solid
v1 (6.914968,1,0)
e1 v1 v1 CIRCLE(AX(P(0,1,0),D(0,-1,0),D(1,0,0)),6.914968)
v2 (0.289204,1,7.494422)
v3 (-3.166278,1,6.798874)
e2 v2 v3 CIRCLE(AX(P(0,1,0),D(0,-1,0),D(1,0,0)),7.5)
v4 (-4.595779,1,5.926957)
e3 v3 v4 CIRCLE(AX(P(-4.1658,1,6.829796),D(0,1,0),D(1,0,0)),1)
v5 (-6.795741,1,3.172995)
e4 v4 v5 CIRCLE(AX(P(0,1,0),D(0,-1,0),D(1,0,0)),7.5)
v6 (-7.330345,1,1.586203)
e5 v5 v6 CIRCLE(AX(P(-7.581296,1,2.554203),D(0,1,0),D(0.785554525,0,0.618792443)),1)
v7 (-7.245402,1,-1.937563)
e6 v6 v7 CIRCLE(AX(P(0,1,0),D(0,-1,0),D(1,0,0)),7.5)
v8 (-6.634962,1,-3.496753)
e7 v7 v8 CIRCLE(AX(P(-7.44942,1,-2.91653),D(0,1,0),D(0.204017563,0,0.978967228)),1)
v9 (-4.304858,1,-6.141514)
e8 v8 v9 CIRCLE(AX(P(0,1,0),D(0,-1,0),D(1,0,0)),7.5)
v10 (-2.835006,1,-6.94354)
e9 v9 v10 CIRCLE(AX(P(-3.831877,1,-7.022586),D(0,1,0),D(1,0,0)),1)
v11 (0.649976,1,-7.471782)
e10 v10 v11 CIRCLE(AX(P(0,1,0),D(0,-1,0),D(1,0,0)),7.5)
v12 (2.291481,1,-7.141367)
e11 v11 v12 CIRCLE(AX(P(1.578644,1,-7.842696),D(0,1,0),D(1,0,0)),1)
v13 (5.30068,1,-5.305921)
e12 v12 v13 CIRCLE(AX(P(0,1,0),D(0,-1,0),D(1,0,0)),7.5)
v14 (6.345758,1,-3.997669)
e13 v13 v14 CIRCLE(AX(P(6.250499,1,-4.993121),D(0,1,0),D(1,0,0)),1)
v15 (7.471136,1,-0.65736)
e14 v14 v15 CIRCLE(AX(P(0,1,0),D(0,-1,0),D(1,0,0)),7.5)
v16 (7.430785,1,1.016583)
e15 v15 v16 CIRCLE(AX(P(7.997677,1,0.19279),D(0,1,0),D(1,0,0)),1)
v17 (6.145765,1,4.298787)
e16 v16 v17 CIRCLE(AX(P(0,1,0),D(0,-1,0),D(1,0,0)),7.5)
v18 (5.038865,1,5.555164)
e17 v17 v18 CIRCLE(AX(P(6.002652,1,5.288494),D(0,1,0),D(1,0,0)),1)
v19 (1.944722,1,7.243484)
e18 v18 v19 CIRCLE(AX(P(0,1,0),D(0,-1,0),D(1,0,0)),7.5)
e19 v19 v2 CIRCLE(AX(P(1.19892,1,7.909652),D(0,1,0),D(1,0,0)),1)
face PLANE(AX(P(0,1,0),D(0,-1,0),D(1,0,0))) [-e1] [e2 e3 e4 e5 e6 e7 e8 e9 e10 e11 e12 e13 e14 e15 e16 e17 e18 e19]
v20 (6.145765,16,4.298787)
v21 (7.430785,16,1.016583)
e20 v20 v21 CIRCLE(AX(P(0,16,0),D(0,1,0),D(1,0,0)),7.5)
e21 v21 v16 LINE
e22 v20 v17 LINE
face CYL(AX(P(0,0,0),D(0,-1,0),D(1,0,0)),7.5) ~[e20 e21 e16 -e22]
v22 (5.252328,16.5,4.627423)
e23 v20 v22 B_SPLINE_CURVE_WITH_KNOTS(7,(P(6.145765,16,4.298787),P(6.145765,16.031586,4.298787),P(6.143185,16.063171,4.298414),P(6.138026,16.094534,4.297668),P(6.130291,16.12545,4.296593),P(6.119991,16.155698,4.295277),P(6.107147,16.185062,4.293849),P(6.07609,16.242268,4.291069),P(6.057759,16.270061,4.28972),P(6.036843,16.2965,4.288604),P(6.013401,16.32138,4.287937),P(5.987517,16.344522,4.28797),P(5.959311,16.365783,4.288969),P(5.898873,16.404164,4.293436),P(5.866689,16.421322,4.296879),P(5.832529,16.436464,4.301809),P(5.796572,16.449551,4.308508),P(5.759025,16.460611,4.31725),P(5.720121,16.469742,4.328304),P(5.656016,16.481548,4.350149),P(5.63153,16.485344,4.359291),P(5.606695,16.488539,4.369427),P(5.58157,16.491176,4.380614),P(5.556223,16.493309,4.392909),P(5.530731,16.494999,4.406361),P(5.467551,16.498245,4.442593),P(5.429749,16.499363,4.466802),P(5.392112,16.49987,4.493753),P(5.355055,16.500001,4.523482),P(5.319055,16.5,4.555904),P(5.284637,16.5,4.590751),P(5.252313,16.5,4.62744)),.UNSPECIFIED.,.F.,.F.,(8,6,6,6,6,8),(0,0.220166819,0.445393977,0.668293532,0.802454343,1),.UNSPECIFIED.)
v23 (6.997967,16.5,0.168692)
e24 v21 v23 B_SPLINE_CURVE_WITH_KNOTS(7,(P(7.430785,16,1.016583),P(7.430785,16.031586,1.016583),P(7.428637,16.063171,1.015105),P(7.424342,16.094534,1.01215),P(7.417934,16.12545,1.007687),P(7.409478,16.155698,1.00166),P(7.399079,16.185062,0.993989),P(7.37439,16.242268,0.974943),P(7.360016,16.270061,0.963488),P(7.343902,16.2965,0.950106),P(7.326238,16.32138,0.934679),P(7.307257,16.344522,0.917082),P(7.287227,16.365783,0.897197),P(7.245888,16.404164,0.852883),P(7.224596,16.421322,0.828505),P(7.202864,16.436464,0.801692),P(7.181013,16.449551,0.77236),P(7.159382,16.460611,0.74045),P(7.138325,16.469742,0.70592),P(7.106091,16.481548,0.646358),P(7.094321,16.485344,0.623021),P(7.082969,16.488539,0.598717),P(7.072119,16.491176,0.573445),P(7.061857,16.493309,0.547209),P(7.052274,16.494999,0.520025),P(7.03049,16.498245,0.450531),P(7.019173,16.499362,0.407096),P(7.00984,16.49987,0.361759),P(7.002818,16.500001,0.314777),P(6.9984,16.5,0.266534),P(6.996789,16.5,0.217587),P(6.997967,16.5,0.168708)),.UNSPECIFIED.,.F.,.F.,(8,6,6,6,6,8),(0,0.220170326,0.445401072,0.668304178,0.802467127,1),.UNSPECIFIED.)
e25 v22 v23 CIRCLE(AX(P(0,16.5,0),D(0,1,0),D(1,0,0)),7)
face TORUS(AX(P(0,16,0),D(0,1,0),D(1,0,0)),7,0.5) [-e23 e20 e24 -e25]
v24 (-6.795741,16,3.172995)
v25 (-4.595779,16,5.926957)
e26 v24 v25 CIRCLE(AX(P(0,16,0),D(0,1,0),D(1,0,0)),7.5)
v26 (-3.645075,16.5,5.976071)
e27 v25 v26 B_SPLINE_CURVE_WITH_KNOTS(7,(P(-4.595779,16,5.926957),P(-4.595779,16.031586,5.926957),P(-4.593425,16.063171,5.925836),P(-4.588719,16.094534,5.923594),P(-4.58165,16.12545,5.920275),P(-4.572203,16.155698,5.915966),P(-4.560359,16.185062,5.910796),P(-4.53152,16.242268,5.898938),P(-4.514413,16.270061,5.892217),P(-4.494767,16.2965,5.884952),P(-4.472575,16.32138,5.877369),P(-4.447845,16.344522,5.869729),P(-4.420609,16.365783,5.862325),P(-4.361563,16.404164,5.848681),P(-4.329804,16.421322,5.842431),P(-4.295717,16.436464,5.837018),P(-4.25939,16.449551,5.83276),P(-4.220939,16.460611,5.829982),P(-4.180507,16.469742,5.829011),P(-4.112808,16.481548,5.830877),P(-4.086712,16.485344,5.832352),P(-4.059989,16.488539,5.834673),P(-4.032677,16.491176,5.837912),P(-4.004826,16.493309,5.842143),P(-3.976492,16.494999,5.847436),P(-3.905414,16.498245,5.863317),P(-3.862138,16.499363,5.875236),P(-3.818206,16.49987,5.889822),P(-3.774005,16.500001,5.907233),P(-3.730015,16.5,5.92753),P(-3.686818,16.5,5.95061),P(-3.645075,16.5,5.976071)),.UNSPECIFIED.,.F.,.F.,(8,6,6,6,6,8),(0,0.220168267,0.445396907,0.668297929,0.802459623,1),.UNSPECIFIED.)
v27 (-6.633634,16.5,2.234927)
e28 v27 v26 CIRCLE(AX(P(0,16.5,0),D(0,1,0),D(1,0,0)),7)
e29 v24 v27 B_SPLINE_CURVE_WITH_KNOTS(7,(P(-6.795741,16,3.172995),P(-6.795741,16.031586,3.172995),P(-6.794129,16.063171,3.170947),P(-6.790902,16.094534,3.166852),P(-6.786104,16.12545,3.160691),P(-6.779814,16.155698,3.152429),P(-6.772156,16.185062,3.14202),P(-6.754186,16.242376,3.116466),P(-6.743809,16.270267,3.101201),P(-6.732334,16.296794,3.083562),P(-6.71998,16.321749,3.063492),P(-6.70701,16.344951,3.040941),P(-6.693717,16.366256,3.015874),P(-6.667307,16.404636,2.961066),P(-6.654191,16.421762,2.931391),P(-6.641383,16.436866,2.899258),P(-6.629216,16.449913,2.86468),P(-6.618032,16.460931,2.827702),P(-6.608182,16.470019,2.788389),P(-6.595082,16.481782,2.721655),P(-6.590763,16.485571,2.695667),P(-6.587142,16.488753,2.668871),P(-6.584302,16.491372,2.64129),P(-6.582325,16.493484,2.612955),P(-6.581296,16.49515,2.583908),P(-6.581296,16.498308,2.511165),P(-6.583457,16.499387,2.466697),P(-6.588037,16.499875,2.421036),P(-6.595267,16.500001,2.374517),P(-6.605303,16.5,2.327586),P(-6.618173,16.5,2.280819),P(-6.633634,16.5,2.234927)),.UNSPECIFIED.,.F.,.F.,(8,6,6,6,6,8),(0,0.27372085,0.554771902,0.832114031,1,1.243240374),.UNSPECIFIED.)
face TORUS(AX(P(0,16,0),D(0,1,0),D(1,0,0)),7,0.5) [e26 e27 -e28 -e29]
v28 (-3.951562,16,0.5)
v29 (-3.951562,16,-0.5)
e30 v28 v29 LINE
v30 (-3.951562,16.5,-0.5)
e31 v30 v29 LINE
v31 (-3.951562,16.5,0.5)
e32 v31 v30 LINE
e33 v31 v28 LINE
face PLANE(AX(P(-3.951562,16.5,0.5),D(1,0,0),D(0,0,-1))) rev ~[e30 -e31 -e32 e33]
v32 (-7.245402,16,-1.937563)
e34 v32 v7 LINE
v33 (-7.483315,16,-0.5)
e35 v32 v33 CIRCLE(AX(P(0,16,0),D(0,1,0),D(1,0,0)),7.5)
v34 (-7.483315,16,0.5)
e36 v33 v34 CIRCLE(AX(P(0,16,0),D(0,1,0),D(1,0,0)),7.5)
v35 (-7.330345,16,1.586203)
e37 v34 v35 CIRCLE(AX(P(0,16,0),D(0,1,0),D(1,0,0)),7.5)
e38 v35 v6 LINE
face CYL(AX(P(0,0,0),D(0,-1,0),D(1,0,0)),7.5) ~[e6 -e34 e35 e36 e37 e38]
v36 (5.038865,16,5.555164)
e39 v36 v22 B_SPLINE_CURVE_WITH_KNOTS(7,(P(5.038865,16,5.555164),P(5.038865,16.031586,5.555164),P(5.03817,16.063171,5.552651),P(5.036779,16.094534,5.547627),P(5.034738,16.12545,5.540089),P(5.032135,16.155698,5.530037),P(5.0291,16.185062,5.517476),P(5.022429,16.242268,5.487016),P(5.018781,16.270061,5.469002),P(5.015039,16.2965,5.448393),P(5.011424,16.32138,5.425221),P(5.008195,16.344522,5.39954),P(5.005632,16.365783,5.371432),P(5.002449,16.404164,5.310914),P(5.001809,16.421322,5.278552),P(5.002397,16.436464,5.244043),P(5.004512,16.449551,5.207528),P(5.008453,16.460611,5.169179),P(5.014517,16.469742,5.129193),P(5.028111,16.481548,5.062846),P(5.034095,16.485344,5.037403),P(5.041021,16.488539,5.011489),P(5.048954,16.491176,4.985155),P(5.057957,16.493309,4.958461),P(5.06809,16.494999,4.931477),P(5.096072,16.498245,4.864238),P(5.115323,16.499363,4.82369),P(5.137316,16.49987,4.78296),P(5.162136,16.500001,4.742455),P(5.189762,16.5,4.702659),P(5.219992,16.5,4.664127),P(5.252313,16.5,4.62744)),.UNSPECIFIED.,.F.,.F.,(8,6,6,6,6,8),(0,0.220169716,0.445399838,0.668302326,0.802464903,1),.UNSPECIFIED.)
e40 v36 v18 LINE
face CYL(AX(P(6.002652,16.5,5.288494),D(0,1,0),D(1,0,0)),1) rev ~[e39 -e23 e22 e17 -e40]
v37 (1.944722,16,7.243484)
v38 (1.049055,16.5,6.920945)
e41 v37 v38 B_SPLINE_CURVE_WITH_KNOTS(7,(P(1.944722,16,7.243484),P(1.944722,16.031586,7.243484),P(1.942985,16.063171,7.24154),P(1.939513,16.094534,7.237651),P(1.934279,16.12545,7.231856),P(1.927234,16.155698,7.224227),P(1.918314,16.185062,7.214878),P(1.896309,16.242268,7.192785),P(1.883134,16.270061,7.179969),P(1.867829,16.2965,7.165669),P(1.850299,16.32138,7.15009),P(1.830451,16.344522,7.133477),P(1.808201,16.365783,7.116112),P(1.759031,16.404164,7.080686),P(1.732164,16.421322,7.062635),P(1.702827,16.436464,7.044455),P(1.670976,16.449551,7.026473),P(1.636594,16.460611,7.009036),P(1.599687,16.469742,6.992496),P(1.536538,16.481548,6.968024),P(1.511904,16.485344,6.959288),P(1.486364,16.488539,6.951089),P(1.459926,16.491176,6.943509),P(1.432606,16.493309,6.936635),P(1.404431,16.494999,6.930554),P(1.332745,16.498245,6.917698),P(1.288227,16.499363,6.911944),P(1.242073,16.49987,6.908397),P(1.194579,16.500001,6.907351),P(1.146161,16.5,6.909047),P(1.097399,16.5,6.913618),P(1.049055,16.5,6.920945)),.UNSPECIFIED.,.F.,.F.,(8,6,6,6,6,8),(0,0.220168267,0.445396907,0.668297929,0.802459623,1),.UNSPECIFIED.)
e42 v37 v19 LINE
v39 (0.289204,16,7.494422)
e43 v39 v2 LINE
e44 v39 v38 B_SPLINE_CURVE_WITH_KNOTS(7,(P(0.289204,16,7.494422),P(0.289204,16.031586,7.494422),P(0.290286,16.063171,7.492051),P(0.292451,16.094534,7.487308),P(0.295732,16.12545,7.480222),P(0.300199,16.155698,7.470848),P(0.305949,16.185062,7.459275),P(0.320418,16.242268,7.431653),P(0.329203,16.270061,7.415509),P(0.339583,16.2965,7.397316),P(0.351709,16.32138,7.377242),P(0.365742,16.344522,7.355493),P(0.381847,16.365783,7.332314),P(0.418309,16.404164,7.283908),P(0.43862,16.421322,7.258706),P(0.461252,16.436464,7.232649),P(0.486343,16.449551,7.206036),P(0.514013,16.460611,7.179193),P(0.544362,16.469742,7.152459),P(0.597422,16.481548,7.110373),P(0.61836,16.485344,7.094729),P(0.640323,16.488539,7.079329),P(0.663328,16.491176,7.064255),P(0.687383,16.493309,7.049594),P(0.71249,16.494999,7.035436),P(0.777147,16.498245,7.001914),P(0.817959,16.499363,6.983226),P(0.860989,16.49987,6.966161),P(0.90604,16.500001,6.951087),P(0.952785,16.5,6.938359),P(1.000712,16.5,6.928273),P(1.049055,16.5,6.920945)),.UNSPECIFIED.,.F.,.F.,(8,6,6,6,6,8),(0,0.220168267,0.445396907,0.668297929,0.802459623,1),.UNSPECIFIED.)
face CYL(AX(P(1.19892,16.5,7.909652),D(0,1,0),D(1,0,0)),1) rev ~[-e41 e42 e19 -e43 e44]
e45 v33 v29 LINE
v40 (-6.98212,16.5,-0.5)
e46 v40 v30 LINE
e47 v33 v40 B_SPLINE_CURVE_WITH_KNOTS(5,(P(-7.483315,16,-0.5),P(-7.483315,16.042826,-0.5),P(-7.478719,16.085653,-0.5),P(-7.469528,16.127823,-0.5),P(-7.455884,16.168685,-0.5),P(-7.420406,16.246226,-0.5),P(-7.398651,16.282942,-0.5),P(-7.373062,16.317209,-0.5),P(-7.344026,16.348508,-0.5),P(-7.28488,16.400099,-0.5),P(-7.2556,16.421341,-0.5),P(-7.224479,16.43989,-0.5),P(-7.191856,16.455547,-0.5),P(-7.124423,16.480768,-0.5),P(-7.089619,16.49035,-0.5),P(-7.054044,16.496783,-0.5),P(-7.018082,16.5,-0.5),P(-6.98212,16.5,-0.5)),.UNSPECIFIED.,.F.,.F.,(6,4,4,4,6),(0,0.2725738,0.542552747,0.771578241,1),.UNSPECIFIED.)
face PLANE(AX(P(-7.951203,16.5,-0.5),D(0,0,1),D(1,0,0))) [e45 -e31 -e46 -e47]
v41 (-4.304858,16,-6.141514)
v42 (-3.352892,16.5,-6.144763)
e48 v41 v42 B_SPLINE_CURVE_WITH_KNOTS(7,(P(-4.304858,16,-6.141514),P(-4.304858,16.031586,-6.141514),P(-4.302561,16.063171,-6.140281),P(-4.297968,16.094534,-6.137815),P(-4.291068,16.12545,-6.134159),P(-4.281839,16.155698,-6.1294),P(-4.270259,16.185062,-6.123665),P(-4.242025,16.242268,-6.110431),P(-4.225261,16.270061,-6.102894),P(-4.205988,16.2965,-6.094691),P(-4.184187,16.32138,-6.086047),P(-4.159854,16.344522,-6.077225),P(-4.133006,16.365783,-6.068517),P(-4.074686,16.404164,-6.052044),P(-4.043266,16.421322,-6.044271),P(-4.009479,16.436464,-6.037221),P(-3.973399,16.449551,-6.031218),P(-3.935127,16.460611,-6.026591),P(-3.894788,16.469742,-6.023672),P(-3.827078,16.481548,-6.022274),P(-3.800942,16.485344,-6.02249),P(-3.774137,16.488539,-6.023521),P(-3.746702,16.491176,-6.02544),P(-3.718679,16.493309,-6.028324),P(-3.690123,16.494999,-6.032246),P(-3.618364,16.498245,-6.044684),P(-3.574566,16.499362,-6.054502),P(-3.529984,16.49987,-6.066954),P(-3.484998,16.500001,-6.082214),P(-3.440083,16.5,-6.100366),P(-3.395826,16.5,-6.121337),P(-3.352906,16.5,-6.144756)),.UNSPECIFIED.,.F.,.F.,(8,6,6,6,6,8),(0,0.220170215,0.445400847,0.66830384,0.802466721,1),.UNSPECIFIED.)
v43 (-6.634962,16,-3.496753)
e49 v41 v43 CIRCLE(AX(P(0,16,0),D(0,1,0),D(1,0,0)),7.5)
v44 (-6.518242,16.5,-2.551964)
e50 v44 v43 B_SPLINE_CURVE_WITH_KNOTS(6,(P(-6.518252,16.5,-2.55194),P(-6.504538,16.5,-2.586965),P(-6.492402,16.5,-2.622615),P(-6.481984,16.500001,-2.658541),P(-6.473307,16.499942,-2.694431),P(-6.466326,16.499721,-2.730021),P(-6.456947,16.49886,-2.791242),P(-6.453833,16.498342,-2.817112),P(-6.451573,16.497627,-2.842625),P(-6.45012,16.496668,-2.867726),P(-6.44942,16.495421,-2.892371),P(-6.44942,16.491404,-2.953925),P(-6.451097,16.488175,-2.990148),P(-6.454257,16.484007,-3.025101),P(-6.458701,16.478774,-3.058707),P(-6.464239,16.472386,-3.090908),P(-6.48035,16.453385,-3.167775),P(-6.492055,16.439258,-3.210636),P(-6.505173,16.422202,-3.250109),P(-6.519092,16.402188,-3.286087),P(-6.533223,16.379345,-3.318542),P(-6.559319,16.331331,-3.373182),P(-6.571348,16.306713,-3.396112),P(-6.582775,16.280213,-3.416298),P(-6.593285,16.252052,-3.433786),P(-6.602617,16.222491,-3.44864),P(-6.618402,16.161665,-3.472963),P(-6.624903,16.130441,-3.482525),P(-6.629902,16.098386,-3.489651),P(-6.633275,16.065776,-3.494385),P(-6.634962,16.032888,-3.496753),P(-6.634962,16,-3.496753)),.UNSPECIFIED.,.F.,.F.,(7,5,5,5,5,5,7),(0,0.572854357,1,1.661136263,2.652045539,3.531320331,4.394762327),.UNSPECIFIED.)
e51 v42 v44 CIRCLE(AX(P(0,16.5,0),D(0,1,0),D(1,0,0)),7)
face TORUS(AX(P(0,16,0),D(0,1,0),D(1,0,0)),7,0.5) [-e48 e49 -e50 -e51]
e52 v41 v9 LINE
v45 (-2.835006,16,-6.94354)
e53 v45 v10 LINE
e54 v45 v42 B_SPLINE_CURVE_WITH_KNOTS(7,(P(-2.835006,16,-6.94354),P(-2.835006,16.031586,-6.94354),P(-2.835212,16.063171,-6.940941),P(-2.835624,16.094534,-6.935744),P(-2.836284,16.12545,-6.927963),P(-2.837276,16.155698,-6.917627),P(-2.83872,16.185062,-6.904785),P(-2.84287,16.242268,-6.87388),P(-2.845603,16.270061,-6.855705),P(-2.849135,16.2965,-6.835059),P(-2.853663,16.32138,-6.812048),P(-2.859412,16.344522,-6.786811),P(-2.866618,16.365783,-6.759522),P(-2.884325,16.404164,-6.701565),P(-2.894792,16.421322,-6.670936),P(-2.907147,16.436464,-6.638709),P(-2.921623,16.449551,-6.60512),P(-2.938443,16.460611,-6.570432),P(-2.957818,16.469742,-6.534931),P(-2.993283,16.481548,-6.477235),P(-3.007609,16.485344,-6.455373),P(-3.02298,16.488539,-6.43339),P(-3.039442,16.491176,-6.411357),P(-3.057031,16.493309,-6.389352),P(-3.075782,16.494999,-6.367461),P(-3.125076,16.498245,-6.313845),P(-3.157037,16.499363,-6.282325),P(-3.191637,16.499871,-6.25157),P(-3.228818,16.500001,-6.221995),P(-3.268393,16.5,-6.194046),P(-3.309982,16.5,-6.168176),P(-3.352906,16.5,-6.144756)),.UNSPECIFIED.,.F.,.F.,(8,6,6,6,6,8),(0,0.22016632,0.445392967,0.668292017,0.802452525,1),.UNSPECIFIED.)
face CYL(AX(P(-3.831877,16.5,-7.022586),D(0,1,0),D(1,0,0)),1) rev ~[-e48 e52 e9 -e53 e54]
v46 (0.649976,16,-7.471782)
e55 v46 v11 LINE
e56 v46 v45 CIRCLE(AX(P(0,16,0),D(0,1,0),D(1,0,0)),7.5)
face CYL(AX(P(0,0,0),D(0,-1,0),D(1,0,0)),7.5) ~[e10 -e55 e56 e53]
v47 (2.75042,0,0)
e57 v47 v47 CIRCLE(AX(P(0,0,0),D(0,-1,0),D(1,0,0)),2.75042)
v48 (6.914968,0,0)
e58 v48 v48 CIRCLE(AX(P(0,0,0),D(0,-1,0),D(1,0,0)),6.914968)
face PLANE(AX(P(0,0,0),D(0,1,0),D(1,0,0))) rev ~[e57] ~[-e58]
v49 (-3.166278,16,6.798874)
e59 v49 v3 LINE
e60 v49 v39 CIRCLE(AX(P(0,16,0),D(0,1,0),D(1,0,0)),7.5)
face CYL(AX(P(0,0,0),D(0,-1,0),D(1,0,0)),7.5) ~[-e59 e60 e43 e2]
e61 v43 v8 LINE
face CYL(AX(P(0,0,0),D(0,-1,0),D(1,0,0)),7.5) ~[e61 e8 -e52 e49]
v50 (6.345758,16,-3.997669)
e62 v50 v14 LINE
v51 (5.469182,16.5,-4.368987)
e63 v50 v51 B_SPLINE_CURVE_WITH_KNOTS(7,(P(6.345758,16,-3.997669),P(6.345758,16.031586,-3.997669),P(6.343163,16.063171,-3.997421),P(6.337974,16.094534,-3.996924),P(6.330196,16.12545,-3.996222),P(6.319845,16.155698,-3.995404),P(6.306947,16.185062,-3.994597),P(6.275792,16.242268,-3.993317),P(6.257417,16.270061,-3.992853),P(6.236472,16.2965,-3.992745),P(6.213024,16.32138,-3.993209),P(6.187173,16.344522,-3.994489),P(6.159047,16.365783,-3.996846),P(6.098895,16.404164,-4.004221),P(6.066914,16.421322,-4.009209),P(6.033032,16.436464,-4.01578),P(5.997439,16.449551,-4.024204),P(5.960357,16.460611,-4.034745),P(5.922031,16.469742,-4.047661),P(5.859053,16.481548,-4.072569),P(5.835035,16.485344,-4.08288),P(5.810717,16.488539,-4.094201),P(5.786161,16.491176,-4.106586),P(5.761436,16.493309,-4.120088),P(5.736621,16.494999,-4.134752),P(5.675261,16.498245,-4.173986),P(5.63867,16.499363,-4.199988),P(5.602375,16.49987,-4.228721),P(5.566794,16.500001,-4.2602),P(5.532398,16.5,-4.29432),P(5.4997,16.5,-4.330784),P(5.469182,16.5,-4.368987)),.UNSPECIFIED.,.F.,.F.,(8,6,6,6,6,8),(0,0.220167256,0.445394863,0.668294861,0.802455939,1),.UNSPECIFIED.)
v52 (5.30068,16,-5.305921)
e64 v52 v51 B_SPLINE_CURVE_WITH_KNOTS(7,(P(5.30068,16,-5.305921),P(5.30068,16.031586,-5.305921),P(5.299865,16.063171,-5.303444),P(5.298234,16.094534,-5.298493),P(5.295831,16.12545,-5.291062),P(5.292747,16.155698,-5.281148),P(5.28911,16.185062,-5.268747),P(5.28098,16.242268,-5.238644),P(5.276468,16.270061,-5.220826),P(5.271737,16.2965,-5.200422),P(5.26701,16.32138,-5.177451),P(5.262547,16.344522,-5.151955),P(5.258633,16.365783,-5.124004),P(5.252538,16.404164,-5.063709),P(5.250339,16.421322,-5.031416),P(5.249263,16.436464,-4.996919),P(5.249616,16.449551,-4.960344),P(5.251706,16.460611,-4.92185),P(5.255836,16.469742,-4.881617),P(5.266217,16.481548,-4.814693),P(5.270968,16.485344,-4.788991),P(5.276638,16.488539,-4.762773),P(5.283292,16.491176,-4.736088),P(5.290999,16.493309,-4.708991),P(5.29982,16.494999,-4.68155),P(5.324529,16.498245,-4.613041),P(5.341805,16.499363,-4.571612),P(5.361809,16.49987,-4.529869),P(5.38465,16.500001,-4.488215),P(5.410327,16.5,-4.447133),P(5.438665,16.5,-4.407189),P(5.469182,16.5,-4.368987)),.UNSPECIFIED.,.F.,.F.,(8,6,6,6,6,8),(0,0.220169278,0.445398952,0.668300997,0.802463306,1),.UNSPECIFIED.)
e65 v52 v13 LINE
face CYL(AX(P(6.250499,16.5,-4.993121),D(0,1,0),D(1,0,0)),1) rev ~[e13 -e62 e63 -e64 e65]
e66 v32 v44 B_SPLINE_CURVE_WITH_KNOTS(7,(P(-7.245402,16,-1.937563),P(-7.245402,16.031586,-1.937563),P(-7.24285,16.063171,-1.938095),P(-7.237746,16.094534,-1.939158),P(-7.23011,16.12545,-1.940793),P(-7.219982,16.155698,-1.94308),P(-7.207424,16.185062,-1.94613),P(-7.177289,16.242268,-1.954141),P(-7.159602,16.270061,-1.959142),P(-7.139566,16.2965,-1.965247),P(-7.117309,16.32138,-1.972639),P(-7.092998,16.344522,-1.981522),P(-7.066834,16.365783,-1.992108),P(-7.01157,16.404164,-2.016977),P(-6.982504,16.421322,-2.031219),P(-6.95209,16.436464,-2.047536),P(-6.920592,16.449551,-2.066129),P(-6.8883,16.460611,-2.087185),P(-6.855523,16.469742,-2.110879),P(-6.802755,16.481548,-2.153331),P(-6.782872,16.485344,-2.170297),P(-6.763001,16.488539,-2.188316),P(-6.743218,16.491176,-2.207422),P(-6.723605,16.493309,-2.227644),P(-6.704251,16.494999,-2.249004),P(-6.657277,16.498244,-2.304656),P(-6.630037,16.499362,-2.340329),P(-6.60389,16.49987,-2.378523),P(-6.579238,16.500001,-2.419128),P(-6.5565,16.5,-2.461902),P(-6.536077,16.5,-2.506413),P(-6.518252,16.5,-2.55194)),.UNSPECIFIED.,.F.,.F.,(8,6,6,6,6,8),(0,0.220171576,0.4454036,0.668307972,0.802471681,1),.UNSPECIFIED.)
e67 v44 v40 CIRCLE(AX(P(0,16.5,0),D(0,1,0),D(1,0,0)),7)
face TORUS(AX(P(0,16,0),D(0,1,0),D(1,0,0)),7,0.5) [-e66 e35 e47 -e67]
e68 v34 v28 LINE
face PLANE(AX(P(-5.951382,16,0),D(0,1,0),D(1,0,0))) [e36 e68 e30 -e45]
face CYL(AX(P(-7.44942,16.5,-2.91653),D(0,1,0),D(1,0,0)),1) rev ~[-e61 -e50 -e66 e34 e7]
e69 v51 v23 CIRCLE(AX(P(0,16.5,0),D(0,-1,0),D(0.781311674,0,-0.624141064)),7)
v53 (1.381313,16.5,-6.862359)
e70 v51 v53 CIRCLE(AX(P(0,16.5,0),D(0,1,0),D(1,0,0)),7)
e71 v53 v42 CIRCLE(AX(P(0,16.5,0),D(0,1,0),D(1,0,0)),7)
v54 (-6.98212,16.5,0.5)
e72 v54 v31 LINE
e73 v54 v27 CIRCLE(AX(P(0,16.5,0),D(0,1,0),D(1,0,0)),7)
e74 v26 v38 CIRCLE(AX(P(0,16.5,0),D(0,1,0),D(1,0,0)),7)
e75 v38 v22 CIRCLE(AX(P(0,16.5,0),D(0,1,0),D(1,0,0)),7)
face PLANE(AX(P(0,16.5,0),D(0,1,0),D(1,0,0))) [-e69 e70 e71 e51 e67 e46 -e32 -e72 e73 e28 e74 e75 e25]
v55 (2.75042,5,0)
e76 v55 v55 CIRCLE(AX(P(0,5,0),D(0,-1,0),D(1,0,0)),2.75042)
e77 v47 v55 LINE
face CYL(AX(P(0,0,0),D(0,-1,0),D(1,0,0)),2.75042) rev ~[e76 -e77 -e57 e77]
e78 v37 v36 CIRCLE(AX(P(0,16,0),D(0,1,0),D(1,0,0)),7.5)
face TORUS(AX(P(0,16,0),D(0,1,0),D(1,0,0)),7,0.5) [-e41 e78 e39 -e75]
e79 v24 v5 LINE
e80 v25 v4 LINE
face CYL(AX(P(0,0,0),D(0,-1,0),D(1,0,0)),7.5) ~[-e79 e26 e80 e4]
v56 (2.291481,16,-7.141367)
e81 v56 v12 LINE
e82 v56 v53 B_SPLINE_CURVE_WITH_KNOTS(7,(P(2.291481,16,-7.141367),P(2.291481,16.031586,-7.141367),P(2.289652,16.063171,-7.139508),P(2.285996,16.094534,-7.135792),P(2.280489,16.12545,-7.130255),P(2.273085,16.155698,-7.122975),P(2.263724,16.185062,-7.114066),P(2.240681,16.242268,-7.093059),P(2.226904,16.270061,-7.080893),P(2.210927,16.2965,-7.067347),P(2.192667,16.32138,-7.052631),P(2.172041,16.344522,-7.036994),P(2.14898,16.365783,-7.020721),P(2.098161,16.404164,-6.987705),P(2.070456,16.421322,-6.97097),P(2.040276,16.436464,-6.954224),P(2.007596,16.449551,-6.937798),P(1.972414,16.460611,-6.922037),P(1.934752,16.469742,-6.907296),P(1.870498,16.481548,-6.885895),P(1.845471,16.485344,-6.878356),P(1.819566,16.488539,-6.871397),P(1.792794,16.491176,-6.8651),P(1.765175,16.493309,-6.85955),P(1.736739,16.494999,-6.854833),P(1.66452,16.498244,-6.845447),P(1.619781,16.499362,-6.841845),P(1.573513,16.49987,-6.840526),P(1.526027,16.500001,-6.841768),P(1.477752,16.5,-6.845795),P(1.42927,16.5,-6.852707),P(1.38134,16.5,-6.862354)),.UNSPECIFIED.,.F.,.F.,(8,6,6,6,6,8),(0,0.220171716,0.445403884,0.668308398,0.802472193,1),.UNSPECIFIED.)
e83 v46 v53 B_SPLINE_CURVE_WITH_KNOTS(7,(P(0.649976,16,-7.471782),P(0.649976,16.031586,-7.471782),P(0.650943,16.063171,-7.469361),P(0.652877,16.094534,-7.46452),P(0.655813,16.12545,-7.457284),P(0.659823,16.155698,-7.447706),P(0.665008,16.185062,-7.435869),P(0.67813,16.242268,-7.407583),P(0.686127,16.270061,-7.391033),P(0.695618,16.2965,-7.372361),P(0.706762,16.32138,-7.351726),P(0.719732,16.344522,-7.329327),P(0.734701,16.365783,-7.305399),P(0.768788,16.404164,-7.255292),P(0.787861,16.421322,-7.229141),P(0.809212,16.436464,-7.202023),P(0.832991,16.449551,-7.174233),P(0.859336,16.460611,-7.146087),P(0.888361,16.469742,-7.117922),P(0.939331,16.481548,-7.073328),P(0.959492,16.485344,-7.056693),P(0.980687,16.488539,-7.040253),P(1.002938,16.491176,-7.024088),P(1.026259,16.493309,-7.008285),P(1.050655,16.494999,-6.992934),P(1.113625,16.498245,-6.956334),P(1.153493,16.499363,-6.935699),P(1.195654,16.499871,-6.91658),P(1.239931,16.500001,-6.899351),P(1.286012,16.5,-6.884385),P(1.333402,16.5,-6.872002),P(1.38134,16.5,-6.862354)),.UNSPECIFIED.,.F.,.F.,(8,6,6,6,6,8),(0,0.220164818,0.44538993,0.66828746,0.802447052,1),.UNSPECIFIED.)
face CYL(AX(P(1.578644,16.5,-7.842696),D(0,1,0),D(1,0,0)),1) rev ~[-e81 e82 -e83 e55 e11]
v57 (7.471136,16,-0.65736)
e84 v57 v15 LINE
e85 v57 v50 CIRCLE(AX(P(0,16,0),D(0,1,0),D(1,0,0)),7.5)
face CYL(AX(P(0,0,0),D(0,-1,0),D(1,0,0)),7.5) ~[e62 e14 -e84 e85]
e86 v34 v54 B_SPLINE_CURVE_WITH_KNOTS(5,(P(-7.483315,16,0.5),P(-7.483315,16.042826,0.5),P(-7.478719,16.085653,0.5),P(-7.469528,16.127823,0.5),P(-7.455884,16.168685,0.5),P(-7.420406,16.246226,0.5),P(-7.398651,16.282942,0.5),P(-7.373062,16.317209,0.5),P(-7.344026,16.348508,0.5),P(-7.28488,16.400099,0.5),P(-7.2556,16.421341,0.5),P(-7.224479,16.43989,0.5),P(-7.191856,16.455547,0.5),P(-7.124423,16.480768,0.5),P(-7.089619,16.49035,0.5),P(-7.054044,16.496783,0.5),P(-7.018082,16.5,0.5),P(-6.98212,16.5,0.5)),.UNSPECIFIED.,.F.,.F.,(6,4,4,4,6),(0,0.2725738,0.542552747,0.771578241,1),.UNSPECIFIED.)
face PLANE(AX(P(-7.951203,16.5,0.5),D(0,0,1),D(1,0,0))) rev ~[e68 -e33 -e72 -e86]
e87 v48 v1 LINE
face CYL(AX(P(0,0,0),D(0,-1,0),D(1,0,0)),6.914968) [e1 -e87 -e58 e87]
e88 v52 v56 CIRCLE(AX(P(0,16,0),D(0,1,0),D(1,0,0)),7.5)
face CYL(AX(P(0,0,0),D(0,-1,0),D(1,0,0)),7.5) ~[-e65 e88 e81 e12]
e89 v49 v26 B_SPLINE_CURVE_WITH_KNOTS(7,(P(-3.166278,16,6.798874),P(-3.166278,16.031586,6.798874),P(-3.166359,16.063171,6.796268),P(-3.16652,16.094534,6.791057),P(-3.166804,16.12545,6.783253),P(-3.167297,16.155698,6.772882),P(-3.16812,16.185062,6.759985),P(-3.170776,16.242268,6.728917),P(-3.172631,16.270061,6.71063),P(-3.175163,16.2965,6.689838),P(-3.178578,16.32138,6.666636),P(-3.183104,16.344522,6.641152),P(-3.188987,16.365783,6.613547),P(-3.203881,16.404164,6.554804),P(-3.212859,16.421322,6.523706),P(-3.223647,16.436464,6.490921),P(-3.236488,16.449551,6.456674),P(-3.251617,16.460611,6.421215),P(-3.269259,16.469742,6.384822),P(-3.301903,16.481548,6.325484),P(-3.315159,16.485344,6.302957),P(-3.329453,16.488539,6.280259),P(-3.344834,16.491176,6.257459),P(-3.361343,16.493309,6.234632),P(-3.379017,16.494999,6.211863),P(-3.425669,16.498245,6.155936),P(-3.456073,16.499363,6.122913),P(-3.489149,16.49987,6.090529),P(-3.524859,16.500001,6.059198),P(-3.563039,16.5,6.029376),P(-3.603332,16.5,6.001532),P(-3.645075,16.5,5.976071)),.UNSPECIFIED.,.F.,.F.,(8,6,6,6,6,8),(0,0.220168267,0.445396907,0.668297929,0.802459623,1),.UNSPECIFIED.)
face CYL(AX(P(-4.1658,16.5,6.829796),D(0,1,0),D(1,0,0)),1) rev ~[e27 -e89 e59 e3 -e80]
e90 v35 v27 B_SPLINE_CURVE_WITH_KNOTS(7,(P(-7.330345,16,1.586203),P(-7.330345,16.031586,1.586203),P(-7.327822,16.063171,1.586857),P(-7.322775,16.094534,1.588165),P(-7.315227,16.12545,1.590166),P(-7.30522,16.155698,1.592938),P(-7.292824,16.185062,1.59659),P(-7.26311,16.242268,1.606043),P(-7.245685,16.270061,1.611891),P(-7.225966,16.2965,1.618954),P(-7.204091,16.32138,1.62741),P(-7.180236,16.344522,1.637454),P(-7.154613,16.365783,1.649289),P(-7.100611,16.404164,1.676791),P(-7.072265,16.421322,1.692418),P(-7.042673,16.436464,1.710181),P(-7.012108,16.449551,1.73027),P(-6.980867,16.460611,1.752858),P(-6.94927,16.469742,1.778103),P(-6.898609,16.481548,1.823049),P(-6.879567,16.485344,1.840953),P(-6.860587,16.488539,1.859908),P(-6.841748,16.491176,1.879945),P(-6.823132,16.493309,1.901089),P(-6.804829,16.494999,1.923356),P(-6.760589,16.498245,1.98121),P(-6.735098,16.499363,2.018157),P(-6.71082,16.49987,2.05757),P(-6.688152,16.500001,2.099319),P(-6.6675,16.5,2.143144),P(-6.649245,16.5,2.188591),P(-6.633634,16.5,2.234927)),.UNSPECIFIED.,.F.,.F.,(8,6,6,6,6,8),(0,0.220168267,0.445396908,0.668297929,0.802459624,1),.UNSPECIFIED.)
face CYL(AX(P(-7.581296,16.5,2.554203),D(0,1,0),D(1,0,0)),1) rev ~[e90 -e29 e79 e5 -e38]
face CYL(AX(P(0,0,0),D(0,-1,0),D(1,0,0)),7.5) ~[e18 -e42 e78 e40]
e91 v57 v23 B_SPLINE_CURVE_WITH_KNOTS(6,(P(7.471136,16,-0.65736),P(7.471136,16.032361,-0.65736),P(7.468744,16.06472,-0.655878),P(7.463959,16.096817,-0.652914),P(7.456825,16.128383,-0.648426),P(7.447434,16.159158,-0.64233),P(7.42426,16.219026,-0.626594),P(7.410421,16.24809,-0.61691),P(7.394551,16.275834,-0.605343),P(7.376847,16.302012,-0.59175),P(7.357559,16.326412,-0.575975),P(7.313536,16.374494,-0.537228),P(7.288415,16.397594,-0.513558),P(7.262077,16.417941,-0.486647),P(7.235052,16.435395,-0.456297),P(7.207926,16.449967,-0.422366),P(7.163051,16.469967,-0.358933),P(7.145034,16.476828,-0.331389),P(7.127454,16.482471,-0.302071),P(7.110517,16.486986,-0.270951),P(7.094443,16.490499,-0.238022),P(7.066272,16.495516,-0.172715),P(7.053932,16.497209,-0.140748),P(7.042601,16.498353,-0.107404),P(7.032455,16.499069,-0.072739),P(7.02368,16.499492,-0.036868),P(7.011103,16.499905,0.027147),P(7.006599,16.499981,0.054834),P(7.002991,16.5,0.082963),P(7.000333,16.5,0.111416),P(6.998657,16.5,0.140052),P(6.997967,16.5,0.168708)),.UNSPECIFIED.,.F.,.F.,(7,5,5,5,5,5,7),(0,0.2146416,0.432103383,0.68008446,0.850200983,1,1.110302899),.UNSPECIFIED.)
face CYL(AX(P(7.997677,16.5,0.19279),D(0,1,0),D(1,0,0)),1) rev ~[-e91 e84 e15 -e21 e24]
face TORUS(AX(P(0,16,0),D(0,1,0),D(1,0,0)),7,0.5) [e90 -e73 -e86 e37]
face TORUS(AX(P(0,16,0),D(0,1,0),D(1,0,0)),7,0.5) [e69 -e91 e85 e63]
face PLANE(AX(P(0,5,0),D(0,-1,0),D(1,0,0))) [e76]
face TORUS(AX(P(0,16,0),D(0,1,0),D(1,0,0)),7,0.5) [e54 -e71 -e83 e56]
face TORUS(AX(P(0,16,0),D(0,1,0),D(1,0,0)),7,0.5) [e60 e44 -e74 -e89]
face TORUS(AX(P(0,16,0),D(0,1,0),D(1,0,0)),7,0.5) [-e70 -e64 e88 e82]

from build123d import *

# Parameters (mm, degrees)
SKETCH1_R           = 7.5
BOSS_EXTRUDE1_DEPTH = 16.5
FILLET1_R           = 0.5
SKETCH2_R           = 2.750419987
CUT_EXTRUDE1_DEPTH  = 5
SKETCH3_R           = 7.5
SKETCH3_R_2         = 6.914968151
CUT_EXTRUDE2_DEPTH  = 1
SKETCH4_R           = 1
CUT_EXTRUDE3_DEPTH  = 17.5
SKETCH5_W           = 3.999641176
SKETCH5_H           = 1
CUT_EXTRUDE4_DEPTH  = 0.5


with BuildPart() as part:
    # Sketch1 → Boss-Extrude1 (new body)
    with BuildSketch(Plane(origin=(0, 0, 0), x_dir=(1, 0, 0), z_dir=(0, 1, 0))):
        Circle(SKETCH1_R)
    extrude(amount=BOSS_EXTRUDE1_DEPTH)

    # Fillet1
    fillet1_edges = [part.edges().sort_by_distance(p)[0] for p in [
        (-7.5, 16.5, 0),
    ]]
    fillet(fillet1_edges, radius=FILLET1_R)

    # Sketch2 → Cut-Extrude1 (cut)
    with BuildSketch(Plane.XZ):
        Circle(SKETCH2_R)
    extrude(amount=-CUT_EXTRUDE1_DEPTH, mode=Mode.SUBTRACT)

    # Sketch3 → Cut-Extrude2 (cut)
    with BuildSketch(Plane.XZ):
        Circle(SKETCH3_R)
        Circle(SKETCH3_R_2, mode=Mode.SUBTRACT)
    extrude(amount=-CUT_EXTRUDE2_DEPTH, mode=Mode.SUBTRACT)

    # Sketch4 → Cut-Extrude3 (cut, through all)
    with BuildSketch(Plane(origin=(0, 16.5, 0), x_dir=(1, 0, 0), z_dir=(0, 1, 0))):
        with Locations((1.198920421, -7.909651688)):
            Circle(SKETCH4_R)
        with Locations((-4.165799776, -6.829795914)):
            Circle(SKETCH4_R)
        with Locations((-7.58129596, -2.554202727)):
            Circle(SKETCH4_R)
        with Locations((-7.449419507, 2.916530302)):
            Circle(SKETCH4_R)
        with Locations((-3.831876876, 7.02258639)):
            Circle(SKETCH4_R)
        with Locations((1.578643531, 7.842696258)):
            Circle(SKETCH4_R)
        with Locations((6.250499086, 4.993121386)):
            Circle(SKETCH4_R)
        with Locations((7.997676652, -0.192790476)):
            Circle(SKETCH4_R)
        with Locations((6.002652428, -5.288493531)):
            Circle(SKETCH4_R)
    extrude(amount=-CUT_EXTRUDE3_DEPTH, mode=Mode.SUBTRACT)

    # Sketch5 → Cut-Extrude4 (cut)
    with BuildSketch(Plane(origin=(0, 16.5, 0), x_dir=(1, 0, 0), z_dir=(0, 1, 0))):
        with Locations((-5.951382342, 0)):
            Rectangle(SKETCH5_W, SKETCH5_H)
    extrude(amount=-CUT_EXTRUDE4_DEPTH, mode=Mode.SUBTRACT)


solid = part.part
